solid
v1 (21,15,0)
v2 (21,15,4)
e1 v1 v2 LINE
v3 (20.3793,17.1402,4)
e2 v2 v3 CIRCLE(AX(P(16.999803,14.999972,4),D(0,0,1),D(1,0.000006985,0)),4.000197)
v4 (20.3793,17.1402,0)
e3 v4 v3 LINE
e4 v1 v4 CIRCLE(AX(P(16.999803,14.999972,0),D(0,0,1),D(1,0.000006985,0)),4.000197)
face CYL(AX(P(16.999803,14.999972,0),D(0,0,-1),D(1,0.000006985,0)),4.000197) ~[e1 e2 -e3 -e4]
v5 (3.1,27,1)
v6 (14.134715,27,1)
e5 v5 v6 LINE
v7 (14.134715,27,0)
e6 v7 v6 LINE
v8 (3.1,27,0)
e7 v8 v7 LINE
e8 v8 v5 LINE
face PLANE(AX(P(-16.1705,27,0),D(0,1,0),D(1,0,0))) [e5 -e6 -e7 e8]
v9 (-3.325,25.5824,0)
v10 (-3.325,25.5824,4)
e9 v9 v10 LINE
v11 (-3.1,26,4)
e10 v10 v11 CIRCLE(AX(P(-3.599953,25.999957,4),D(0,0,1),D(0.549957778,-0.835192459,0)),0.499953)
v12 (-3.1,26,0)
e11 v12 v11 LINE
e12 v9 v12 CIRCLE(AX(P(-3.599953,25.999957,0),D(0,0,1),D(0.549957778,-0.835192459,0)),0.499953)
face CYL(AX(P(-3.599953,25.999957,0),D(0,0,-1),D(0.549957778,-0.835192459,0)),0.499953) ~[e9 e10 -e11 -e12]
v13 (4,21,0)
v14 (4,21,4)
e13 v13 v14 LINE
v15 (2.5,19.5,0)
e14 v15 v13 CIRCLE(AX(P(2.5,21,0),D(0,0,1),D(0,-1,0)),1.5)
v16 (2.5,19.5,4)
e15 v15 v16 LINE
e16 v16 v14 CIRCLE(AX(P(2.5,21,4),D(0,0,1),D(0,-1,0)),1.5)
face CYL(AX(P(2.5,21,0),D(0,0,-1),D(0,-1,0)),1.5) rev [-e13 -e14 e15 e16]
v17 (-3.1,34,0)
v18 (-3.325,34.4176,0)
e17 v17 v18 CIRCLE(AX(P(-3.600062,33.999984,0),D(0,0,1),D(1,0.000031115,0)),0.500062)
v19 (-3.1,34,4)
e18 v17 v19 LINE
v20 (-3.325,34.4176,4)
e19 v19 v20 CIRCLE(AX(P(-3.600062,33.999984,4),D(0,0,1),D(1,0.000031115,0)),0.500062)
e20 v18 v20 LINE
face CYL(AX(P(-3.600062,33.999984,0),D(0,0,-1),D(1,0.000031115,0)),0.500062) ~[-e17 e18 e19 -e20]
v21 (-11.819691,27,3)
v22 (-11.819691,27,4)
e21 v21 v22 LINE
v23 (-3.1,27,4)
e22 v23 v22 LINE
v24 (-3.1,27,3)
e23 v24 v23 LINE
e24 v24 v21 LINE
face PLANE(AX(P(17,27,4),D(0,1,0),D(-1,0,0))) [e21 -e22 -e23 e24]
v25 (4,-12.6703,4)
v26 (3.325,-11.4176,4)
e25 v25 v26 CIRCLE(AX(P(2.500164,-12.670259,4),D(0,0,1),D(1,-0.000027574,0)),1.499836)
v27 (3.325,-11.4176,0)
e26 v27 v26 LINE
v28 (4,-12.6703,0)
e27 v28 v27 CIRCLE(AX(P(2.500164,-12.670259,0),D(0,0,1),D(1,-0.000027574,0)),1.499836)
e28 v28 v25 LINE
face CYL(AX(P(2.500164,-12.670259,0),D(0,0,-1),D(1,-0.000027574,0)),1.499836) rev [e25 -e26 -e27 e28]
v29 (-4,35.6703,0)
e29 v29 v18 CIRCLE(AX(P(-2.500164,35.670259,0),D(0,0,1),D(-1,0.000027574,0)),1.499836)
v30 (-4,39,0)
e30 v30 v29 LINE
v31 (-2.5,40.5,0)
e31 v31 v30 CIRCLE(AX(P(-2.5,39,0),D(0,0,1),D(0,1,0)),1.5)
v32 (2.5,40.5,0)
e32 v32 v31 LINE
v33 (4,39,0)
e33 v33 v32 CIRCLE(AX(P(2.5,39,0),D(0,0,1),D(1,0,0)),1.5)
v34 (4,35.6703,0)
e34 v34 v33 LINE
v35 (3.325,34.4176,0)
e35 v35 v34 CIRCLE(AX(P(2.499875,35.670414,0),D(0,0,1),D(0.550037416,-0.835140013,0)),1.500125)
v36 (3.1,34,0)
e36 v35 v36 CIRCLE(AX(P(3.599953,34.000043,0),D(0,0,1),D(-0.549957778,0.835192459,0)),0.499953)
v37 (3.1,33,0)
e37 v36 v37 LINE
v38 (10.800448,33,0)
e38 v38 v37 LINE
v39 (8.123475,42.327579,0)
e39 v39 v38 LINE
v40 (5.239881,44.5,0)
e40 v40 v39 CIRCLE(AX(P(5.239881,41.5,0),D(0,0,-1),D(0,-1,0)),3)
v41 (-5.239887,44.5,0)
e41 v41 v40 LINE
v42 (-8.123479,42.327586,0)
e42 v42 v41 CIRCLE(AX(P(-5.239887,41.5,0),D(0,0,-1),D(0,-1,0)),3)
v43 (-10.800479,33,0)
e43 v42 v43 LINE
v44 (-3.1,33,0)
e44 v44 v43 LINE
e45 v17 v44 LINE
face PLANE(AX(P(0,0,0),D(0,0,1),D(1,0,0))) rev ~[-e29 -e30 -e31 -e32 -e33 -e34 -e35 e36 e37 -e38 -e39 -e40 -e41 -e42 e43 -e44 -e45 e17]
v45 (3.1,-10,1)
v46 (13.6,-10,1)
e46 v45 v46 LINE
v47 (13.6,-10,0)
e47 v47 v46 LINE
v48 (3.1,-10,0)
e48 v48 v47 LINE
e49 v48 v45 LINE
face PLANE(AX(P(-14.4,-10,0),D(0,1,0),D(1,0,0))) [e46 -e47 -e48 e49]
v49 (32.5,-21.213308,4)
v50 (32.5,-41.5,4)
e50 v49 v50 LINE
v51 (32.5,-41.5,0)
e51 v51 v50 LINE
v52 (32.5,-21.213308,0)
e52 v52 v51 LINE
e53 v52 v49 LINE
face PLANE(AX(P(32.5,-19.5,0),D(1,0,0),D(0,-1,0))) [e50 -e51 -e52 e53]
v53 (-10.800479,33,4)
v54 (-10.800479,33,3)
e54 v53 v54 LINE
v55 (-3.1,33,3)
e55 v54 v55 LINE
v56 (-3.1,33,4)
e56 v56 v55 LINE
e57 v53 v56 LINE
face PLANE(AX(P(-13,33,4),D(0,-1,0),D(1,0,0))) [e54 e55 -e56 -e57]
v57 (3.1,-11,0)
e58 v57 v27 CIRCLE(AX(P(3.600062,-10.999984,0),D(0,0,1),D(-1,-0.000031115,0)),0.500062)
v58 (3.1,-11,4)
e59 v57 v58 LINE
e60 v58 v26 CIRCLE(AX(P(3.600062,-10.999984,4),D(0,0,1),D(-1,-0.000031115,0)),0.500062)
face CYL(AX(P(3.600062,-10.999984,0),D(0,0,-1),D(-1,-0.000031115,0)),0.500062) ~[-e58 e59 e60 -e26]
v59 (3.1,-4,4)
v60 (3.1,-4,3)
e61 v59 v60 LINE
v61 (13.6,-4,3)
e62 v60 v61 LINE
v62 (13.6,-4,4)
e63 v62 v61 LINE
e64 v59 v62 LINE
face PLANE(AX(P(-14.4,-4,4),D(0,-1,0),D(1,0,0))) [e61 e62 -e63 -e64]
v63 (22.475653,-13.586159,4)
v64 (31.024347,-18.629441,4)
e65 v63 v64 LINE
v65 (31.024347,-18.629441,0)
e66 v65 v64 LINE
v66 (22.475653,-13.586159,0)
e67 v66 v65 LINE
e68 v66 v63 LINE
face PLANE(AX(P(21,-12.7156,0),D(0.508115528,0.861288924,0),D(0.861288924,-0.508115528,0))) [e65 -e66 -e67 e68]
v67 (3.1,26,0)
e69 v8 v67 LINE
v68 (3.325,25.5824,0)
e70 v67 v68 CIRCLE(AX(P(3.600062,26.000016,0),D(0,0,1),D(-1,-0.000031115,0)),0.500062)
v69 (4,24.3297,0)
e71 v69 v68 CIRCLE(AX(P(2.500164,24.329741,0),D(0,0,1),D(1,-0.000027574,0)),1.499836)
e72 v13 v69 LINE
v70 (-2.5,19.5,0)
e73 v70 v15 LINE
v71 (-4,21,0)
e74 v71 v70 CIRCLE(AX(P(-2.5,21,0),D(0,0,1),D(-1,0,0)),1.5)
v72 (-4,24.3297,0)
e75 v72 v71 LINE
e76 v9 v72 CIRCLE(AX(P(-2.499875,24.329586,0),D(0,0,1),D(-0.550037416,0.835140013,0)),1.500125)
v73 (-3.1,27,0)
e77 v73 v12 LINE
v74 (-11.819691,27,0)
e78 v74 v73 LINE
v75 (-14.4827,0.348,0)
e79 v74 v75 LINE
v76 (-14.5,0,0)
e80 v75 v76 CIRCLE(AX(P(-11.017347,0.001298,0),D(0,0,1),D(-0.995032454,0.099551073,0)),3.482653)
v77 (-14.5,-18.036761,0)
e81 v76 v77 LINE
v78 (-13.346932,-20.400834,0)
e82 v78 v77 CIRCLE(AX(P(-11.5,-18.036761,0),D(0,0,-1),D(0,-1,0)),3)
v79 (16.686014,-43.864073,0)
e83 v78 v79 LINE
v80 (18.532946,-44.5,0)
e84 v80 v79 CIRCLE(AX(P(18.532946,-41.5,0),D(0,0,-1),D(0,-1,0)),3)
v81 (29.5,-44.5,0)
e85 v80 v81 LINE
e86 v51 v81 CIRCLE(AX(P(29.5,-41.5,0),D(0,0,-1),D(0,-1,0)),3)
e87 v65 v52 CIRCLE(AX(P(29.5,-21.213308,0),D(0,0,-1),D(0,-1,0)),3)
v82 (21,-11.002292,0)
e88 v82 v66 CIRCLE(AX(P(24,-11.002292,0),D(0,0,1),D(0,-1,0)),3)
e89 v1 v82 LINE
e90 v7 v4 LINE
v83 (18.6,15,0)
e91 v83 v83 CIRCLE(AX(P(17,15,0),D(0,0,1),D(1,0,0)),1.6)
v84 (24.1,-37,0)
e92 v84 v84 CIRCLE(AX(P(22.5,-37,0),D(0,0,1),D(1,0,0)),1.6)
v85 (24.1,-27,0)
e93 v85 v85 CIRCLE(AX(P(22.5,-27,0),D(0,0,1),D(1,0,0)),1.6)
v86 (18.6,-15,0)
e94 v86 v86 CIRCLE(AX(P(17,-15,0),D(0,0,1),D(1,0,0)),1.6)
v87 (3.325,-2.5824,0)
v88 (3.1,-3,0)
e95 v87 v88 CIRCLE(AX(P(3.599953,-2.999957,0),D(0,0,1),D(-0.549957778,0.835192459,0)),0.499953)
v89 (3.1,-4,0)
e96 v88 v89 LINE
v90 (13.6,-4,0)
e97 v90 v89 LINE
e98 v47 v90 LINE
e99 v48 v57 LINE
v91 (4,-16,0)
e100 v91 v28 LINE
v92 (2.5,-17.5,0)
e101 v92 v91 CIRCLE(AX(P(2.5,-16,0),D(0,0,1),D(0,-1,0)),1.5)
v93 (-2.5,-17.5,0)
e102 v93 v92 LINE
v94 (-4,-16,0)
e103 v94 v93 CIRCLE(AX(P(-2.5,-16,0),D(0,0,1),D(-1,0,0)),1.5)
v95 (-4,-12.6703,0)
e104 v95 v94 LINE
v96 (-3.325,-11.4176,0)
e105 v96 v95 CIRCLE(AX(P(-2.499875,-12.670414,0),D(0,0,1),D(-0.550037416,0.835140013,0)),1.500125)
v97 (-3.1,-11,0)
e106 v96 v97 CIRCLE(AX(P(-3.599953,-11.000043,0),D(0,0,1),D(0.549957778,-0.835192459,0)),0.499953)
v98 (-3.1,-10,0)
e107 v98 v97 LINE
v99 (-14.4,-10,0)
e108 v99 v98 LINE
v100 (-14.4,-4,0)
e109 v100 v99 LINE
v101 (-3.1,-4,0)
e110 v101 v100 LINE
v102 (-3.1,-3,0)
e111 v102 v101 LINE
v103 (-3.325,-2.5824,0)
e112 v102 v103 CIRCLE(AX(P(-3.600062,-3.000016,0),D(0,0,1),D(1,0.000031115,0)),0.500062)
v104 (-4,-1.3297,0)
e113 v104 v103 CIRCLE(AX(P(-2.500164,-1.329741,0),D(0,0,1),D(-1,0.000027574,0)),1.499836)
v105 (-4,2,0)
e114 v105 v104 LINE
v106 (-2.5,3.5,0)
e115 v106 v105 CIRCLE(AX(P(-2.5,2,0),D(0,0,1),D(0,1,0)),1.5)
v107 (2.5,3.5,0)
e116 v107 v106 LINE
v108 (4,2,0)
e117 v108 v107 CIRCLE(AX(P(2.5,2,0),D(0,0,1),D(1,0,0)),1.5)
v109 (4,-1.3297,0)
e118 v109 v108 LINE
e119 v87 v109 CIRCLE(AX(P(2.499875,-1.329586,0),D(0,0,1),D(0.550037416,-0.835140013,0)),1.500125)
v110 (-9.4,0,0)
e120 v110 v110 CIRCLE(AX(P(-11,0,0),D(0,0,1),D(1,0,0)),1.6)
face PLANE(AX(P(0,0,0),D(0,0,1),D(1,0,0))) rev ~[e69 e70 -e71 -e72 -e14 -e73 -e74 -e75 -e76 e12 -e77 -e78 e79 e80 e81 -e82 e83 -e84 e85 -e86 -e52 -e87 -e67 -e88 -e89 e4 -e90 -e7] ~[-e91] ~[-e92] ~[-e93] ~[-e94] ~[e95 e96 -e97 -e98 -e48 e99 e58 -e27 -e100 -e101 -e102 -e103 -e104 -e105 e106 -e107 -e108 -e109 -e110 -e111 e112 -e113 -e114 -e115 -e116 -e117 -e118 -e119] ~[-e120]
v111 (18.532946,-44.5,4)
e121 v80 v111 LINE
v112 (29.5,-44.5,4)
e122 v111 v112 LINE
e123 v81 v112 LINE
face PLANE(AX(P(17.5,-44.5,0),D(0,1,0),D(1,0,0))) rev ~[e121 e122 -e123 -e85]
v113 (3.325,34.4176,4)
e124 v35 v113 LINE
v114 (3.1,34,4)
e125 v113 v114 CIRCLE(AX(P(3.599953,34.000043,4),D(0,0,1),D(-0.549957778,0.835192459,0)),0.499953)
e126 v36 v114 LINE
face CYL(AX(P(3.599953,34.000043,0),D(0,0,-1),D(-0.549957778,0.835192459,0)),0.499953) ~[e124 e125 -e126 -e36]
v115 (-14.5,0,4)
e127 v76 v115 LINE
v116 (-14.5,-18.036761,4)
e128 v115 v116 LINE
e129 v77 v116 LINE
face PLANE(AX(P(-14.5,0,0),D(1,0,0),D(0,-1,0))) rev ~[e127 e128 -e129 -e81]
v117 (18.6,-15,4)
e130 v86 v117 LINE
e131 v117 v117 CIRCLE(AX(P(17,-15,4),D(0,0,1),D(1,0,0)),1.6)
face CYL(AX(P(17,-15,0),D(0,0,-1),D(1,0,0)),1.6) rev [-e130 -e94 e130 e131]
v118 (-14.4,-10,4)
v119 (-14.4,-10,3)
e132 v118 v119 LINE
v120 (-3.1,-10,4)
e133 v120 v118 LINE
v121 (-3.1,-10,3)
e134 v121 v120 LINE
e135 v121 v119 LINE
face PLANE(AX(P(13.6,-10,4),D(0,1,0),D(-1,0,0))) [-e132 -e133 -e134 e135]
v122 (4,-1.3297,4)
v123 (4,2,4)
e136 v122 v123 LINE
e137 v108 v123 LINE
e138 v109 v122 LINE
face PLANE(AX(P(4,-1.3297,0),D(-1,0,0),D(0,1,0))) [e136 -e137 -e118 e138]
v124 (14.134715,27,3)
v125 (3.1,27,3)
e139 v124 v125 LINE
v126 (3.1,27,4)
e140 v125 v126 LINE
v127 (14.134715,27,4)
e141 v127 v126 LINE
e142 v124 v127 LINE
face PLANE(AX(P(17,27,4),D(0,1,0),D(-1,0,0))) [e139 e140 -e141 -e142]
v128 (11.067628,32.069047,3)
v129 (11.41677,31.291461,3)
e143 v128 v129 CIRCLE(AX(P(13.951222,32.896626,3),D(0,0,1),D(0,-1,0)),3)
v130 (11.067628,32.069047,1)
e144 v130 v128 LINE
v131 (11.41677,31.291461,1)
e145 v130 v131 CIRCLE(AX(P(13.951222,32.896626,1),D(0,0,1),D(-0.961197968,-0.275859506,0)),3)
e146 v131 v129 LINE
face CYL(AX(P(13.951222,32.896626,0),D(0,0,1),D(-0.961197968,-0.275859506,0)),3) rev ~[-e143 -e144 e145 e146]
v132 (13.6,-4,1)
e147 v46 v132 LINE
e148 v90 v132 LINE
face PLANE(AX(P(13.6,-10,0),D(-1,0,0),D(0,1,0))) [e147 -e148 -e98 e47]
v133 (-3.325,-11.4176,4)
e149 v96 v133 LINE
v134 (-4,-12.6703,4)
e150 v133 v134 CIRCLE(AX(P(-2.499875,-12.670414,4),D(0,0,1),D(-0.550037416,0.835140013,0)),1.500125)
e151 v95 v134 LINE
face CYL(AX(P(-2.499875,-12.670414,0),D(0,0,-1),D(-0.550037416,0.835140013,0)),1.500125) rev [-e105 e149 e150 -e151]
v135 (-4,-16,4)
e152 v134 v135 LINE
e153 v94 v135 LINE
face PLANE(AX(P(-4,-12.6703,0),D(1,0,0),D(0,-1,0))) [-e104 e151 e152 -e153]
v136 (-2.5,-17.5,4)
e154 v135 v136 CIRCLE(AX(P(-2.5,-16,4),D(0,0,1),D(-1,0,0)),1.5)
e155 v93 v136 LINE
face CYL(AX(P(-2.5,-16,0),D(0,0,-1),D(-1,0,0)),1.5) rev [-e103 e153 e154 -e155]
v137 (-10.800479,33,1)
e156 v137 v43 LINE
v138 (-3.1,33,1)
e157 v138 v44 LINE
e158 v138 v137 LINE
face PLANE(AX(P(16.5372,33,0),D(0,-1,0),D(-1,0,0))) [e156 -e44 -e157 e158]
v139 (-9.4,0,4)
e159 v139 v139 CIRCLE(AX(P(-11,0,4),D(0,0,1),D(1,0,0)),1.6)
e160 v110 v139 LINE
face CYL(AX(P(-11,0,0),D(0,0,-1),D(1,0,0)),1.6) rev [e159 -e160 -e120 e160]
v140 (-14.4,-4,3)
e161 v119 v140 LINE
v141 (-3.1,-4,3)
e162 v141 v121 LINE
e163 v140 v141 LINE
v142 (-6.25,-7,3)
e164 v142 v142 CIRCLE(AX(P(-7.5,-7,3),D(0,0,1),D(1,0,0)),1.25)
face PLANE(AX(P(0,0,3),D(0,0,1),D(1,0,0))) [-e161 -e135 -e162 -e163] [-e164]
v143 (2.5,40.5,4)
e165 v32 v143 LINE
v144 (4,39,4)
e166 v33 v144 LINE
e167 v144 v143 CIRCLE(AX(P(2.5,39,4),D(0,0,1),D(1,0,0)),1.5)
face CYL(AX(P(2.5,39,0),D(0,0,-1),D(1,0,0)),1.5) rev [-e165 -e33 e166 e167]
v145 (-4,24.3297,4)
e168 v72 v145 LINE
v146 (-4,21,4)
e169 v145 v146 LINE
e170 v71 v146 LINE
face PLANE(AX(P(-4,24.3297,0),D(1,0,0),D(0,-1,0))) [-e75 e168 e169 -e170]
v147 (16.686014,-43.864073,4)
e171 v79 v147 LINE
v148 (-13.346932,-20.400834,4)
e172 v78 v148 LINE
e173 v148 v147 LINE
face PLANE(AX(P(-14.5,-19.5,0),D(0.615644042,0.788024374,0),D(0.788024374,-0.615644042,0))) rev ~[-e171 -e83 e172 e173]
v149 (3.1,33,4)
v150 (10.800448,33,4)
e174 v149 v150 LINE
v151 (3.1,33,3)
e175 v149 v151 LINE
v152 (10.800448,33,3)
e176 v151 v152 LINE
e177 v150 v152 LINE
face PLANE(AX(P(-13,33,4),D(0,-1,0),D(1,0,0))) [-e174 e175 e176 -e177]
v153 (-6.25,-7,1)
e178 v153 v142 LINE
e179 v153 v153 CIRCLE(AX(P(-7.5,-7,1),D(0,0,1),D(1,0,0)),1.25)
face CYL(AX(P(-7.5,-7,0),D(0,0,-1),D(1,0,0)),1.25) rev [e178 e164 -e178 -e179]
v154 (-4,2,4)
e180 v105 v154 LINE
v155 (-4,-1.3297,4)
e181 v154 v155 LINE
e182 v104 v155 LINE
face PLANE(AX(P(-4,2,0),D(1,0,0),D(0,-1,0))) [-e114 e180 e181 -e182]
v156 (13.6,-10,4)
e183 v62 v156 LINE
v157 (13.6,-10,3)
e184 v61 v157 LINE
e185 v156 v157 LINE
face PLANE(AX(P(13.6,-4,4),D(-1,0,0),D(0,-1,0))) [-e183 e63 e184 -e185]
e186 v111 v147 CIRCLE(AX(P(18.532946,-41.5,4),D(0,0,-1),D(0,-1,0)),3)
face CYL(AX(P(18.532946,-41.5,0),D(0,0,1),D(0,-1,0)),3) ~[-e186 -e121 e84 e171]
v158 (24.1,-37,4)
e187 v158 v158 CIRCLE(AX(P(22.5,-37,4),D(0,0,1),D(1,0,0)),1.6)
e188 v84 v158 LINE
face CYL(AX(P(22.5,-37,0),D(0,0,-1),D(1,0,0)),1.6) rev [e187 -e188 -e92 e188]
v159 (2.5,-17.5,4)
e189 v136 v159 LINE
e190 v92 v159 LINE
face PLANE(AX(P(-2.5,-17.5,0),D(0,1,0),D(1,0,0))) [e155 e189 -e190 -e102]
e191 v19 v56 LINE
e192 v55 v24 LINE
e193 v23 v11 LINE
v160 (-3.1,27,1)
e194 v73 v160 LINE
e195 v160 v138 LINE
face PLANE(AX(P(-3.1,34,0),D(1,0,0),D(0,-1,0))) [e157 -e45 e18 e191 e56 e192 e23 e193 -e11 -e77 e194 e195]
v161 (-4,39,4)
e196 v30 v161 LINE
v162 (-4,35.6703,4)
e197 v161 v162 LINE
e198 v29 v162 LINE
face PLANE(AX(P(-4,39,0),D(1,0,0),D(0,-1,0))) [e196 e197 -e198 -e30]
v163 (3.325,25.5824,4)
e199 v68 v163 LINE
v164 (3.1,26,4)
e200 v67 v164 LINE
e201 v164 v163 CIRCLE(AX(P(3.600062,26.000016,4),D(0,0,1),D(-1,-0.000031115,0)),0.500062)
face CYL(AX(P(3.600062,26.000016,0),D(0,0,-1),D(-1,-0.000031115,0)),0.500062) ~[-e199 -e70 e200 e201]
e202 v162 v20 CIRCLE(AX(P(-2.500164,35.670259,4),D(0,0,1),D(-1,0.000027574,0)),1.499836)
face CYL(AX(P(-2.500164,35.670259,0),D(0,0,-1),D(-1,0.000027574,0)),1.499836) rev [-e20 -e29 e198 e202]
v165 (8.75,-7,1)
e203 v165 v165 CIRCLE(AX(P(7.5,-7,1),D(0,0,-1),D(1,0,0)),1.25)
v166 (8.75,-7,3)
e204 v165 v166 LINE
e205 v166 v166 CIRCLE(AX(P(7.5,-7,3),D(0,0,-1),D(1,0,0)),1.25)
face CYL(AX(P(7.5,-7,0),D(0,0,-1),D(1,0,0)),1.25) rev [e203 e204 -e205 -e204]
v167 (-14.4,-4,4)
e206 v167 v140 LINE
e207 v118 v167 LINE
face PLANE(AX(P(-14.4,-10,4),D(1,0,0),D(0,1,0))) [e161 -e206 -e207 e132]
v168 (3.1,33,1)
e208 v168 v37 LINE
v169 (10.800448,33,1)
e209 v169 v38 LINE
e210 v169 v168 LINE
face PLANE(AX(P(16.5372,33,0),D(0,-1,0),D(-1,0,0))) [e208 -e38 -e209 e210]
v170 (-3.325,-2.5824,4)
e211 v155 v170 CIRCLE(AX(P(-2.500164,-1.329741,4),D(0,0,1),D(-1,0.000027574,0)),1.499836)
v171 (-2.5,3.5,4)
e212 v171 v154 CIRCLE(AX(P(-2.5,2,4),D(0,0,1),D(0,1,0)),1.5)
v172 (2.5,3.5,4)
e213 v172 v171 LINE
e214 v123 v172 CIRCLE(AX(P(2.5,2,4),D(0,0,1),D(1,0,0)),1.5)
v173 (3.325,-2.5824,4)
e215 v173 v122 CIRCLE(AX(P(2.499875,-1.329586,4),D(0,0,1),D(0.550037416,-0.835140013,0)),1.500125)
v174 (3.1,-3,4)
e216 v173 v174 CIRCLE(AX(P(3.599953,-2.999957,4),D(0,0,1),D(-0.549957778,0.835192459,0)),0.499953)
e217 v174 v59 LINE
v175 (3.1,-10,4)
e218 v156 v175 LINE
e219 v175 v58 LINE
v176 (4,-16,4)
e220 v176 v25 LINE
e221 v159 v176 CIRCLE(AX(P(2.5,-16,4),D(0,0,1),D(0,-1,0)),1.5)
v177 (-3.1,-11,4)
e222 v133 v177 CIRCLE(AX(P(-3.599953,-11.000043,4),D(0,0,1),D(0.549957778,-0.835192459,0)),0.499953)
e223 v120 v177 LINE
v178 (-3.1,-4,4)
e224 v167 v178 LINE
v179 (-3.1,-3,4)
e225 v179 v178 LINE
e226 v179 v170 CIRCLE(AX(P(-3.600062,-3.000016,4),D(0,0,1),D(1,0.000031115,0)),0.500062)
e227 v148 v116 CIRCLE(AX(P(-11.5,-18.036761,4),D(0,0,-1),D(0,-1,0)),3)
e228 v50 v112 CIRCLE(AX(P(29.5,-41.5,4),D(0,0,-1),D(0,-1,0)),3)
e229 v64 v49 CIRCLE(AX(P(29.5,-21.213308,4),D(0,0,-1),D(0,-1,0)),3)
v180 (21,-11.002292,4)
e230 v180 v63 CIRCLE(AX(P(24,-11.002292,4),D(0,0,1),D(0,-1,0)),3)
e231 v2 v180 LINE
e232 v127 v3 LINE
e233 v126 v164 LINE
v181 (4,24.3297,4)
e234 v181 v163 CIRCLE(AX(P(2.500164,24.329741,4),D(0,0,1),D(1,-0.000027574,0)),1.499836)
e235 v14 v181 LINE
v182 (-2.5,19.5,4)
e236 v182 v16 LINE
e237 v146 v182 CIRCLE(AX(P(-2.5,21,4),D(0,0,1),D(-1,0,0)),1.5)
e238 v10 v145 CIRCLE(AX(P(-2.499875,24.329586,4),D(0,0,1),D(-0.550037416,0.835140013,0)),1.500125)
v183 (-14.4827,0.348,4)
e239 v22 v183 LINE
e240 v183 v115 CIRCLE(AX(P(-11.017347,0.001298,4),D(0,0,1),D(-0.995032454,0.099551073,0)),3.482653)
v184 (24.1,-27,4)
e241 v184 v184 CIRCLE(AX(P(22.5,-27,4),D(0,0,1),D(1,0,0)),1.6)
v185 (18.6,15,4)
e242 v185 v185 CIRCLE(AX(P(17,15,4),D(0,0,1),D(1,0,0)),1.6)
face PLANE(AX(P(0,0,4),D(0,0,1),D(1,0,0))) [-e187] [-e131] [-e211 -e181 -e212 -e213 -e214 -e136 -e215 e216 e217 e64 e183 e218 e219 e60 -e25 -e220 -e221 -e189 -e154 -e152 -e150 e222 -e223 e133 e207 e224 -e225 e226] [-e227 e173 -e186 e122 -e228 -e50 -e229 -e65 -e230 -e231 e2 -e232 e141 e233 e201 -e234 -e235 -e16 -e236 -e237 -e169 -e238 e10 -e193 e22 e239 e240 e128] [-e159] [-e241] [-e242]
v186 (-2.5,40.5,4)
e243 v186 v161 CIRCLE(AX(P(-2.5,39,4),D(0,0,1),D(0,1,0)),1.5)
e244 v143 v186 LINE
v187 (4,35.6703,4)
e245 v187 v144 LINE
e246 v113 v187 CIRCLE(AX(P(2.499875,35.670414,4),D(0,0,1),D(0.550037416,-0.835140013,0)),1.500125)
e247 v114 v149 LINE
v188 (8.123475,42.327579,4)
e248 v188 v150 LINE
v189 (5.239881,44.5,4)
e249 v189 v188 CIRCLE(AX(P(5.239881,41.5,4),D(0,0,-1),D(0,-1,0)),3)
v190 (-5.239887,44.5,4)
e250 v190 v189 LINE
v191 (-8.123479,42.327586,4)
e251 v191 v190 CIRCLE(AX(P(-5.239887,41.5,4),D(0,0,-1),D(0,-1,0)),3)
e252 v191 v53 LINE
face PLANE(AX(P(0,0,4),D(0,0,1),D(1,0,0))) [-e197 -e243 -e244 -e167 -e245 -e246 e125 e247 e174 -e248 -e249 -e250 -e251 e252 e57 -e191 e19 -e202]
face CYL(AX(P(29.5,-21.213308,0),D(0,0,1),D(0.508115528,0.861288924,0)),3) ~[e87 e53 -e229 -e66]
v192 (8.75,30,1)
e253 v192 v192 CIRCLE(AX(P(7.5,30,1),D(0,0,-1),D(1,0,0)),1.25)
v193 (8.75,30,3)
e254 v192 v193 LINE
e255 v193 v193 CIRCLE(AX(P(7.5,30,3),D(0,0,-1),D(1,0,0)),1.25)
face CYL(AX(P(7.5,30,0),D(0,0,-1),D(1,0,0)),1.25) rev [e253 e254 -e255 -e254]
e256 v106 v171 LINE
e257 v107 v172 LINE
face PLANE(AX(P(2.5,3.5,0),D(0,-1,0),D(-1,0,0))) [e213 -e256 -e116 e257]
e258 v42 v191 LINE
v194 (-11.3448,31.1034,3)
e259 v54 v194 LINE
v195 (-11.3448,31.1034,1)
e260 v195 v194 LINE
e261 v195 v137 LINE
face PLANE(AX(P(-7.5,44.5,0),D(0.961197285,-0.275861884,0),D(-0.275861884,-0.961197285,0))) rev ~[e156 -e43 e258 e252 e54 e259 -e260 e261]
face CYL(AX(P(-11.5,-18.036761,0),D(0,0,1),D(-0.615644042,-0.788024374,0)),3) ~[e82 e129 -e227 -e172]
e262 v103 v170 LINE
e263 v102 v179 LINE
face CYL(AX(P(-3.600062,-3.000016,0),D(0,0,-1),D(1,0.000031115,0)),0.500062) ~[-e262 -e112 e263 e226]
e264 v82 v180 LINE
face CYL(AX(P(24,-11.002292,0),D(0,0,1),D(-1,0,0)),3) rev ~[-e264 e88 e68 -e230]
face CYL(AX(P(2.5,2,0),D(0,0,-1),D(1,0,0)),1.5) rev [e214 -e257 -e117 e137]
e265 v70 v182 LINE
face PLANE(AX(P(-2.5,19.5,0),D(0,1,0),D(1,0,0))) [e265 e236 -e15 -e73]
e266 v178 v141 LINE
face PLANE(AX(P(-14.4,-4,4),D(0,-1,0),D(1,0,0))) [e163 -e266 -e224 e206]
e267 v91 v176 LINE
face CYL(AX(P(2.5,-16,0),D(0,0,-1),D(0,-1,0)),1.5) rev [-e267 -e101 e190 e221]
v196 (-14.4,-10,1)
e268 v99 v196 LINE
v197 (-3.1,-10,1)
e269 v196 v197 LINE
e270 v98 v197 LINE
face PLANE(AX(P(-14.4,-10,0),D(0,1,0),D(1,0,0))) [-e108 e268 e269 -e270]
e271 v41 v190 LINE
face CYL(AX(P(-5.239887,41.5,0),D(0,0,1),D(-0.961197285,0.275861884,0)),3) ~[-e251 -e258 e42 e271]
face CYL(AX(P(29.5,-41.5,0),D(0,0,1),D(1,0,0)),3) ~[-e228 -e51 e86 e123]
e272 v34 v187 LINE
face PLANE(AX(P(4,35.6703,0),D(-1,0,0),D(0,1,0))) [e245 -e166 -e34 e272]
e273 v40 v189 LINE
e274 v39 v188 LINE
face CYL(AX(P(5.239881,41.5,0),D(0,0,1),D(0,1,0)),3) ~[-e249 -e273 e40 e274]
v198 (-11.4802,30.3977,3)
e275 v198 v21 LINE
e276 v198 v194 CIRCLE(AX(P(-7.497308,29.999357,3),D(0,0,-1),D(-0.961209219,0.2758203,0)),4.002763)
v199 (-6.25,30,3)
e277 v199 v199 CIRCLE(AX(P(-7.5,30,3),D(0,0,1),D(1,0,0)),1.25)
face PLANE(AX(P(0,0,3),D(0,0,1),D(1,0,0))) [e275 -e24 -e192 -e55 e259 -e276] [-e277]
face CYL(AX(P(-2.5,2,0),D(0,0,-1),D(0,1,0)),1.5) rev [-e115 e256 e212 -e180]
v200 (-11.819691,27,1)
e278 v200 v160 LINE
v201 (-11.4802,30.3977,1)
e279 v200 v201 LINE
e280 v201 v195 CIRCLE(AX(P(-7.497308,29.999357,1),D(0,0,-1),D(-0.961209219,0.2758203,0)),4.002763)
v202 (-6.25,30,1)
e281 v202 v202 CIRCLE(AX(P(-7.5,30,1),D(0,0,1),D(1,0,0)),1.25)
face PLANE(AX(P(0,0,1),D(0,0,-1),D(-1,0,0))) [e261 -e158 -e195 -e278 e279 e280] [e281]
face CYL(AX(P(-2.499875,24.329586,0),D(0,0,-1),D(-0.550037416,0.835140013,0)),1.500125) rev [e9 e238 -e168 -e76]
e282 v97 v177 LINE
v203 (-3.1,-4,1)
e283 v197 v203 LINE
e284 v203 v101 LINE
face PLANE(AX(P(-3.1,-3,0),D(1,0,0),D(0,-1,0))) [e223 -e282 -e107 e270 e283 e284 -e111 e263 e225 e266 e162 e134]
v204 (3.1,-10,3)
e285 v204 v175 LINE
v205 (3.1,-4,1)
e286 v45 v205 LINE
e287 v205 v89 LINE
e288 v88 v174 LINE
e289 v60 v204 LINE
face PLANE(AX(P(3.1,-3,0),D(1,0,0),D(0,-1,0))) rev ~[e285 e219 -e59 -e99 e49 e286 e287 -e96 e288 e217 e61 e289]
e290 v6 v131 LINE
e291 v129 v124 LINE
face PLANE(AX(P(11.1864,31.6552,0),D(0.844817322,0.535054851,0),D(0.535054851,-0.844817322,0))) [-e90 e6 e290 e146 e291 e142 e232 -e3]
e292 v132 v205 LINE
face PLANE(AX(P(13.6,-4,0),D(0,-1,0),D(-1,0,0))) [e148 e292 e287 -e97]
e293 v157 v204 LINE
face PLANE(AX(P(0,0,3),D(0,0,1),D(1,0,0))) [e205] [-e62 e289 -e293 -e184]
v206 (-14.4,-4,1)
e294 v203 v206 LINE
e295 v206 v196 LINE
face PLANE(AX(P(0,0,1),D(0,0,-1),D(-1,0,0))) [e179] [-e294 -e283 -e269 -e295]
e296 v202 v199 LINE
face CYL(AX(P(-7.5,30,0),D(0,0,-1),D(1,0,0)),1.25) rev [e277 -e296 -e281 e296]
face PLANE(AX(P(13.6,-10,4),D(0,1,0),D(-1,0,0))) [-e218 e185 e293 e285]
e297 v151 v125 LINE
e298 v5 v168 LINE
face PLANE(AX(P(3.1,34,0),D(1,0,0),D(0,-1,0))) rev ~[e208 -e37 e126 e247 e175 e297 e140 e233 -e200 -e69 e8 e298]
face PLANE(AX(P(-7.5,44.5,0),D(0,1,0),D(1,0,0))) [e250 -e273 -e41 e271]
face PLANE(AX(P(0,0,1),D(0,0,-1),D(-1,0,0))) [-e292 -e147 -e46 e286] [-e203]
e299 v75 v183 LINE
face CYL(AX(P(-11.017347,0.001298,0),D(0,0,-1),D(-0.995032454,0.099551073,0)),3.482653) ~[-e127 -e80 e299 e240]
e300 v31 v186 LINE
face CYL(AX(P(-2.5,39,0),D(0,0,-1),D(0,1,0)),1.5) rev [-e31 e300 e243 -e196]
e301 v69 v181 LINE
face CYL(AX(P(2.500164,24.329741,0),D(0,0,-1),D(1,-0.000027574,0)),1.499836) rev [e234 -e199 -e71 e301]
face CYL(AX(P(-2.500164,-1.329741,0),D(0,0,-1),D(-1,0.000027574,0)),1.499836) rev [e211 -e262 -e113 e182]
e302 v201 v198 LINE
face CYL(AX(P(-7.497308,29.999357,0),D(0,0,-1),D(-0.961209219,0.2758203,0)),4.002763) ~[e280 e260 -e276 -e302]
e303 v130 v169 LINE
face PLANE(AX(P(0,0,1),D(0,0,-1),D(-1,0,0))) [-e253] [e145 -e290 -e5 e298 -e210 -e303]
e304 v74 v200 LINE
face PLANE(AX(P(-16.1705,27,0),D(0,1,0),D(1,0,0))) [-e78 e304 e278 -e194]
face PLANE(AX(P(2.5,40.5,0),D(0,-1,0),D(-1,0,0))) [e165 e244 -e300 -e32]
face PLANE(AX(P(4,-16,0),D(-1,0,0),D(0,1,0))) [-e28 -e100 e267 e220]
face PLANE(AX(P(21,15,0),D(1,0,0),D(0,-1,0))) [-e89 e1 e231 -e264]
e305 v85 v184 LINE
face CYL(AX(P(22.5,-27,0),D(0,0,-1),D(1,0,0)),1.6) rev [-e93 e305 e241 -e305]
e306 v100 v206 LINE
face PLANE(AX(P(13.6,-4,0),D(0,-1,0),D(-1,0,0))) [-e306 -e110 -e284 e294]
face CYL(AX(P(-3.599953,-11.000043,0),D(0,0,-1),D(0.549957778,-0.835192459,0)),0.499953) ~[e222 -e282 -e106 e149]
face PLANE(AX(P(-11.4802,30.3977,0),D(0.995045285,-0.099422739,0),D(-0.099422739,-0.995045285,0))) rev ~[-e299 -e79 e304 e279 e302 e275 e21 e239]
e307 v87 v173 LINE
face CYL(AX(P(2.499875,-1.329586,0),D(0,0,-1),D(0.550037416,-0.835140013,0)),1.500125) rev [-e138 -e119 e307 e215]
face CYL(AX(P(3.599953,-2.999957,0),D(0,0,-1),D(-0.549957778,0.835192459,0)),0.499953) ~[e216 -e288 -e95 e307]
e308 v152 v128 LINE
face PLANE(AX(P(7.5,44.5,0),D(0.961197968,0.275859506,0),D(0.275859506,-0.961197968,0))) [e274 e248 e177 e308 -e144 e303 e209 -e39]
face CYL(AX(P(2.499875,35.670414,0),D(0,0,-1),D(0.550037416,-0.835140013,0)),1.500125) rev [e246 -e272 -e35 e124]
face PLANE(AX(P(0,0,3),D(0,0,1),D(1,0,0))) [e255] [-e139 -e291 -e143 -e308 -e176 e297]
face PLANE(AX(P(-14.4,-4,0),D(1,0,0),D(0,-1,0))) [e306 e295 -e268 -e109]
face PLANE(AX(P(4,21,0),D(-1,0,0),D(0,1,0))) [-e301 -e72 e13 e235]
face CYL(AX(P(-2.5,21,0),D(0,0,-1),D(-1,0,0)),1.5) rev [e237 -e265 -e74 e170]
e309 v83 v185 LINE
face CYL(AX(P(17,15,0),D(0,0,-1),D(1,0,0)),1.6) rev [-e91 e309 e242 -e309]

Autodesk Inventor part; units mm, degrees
ref_plane "YZ Plane" through (0, 0, 0) normal (1, 0, 0) x (0, 1, 0)
ref_plane "XZ Plane" through (0, 0, 0) normal (0, 1, 0) x (-1, 0, 0)
ref_plane "XY Plane" through (0, 0, 0) normal (0, 0, 1) x (1, 0, 0)
sketch "スケッチ1" plane through (0, 0, 0) normal (0, 0, 1) x (1, 0, 0)
  line L0 (-7.5, 51.6667) -> (7.5, 51.6667) construction
  line L1 (7.5, 51.6667) -> (7.5, -56.5972) construction
  line L2 (7.5, -56.5972) -> (-7.5, -56.5972) construction
  line L3 (-7.5, -56.5972) -> (-7.5, 51.6667) construction
  circle A0 centre (-11, 0) radius 3.5 construction
  circle A1 centre (17, 15) radius 9.5 construction
  circle A2 centre (17, -15) radius 9.5 construction
  circle A3 centre (-11, 0) radius 1.6
  line L4 (17, 15) -> (17, -15) construction
  line L5 (17, -15) -> (-11, 0) construction
  line L6 (-11, 0) -> (17, 15) construction
  circle A4 centre (17, 15) radius 1.6
  circle A5 centre (17, -15) radius 1.6
  line L7 (-3.1, 34) -> (-3.1, 26)
  arc A6 (3.1, 26) -> (3.325, 25.5824) centre (3.6, 26) ccw
  line L8 (3.1, 34) -> (3.1, 26)
  arc A7 (4, 24.3297) -> (3.325, 25.5824) centre (2.5, 24.3297) ccw
  line L9 (4, 21) -> (4, 24.3297)
  line L10 (-3, 20.5) -> (-3, 39.5) construction
  line L11 (3, 39.5) -> (3, 20.5) construction
  arc A8 (-3.325, 25.5824) -> (-4, 24.3297) centre (-2.5, 24.3297) ccw
  arc A9 (-3.325, 25.5824) -> (-3.1, 26) centre (-3.6, 26) ccw
  arc A10 (-4, 21) -> (-2.5, 19.5) centre (-2.5, 21) ccw
  line L12 (-4, 24.3297) -> (-4, 21)
  arc A11 (4, 39) -> (2.5, 40.5) centre (2.5, 39) ccw
  line L13 (-2.5, 19.5) -> (2.5, 19.5)
  line L14 (3, 20.5) -> (-3, 20.5) construction
  arc A12 (2.5, 19.5) -> (4, 21) centre (2.5, 21) ccw
  arc A13 (3.325, 34.4176) -> (3.1, 34) centre (3.6, 34) ccw
  arc A14 (3.325, 34.4176) -> (4, 35.6703) centre (2.5, 35.6703) ccw
  arc A15 (-3.1, 34) -> (-3.325, 34.4176) centre (-3.6, 34) ccw
  arc A16 (-4, 35.6703) -> (-3.325, 34.4176) centre (-2.5, 35.6703) ccw
  line L15 (4, 35.6703) -> (4, 39)
  line L16 (-4, 39) -> (-4, 35.6703)
  line L17 (-3, 39.5) -> (3, 39.5) construction
  line L18 (2.5, 40.5) -> (-2.5, 40.5)
  arc A17 (-2.5, 40.5) -> (-4, 39) centre (-2.5, 39) ccw
  line L19 (-3.1, -3) -> (-3.1, -11)
  arc A18 (3.1, -11) -> (3.325, -11.4176) centre (3.6, -11) ccw
  line L20 (3.1, -3) -> (3.1, -11)
  arc A19 (4, -12.6703) -> (3.325, -11.4176) centre (2.5, -12.6703) ccw
  line L21 (4, -16) -> (4, -12.6703)
  line L22 (-3, -16.5) -> (-3, 2.5) construction
  line L23 (3, 2.5) -> (3, -16.5) construction
  arc A20 (-3.325, -11.4176) -> (-4, -12.6703) centre (-2.5, -12.6703) ccw
  arc A21 (-3.325, -11.4176) -> (-3.1, -11) centre (-3.6, -11) ccw
  arc A22 (-4, -16) -> (-2.5, -17.5) centre (-2.5, -16) ccw
  line L24 (-4, -12.6703) -> (-4, -16)
  arc A23 (4, 2) -> (2.5, 3.5) centre (2.5, 2) ccw
  line L25 (-2.5, -17.5) -> (2.5, -17.5)
  line L26 (3, -16.5) -> (-3, -16.5) construction
  arc A24 (2.5, -17.5) -> (4, -16) centre (2.5, -16) ccw
  arc A25 (3.325, -2.5824) -> (3.1, -3) centre (3.6, -3) ccw
  arc A26 (3.325, -2.5824) -> (4, -1.3297) centre (2.5, -1.3297) ccw
  arc A27 (-3.1, -3) -> (-3.325, -2.5824) centre (-3.6, -3) ccw
  arc A28 (-4, -1.3297) -> (-3.325, -2.5824) centre (-2.5, -1.3297) ccw
  line L27 (4, -1.3297) -> (4, 2)
  line L28 (-4, 2) -> (-4, -1.3297)
  line L29 (-3, 2.5) -> (3, 2.5) construction
  line L30 (2.5, 3.5) -> (-2.5, 3.5)
  arc A29 (-2.5, 3.5) -> (-4, 2) centre (-2.5, 2) ccw
  circle A30 centre (-7.5, 30) radius 1.25
  circle A31 centre (7.5, 30) radius 1.25
  circle A32 centre (-7.5, -7) radius 1.25
  circle A33 centre (7.5, -7) radius 1.25
  arc A34 (-14.4827, 0.348) -> (-14.5, 0) centre (-11, 0) ccw
  line L31 (-7.5, 44.5) -> (7.5, 44.5)
  arc A35 (21, 15) -> (20.3793, 17.1402) centre (17, 15) ccw
  circle A36 centre (22.5, -27) radius 1.6
  circle A37 centre (22.5, -37) radius 1.6
  line L32 (-14.5, -19.5) -> (33.1902, -19.5) construction
  line L33 (33.1902, -19.5) -> (33.1902, -44.5) construction
  arc A38 (-11.3448, 31.1034) -> (-11.4802, 30.3977) centre (-7.5, 30) ccw
  line L34 (-7.5, 44.5) -> (-11.3448, 31.1034)
  line L35 (-11.4802, 30.3977) -> (-14.4827, 0.348)
  line L36 (7.5, 44.5) -> (11.1864, 31.6552)
  line L37 (11.1864, 31.6552) -> (20.3793, 17.1402)
  arc A39 (11.4653, 29.4746) -> (11.0874, 31.7692) centre (7.5, 30) ccw construction
  line L38 (-14.5, 0) -> (-14.5, -19.5)
  line L39 (-14.5, -19.5) -> (17.5, -44.5)
  line L40 (17.5, -44.5) -> (32.5, -44.5)
  line L41 (21, 15) -> (21, -12.7156)
  line L42 (21, -12.7156) -> (32.5, -19.5)
  line L43 (32.5, -19.5) -> (32.5, -44.5)
  circle A40 centre (17, -15) radius 4 construction
  point P0 (0, 0)
  point P1 (0, 0)
  point P2 (0, 30)
  point P3 (0, -7)
  dimension "d0" = 15
  dimension "d1" = 7.5
  dimension "d2" = 7
  dimension "d3" = 19
  dimension "d4" = 19
  dimension "d5" = 3.2
  dimension "d10" = 30
  dimension "d11" = 3.2
  dimension "d12" = 3.2
  dimension "d13" = 6
  dimension "d14" = 19
  dimension "d15" = 3
  dimension "d16" = 9.5
  dimension "d17" = 1
  dimension "d18" = 8
  dimension "d19" = 4
  dimension "d20" = 0.1
  dimension "d21" = 0.1
  dimension "d22" = 1
  dimension "d23" = 1
  dimension "d24" = 1
  dimension "d25" = 1.5
  dimension "d26" = 1
  dimension "d27" = 1.5
  dimension "d28" = 0.5
  dimension "d29" = 1
  dimension "d30" = 1.5
  dimension "d31" = 0.5
  dimension "d32" = 1.5
  dimension "d33" = 0.5
  dimension "d34" = 0.5
  dimension "d35" = 1.5
  dimension "d36" = 6
  dimension "d37" = 19
  dimension "d38" = 3
  dimension "d39" = 9.5
  dimension "d40" = 1
  dimension "d41" = 8
  dimension "d42" = 4
  dimension "d43" = 0.1
  dimension "d44" = 0.1
  dimension "d45" = 1
  dimension "d46" = 1
  dimension "d47" = 1
  dimension "d48" = 1.5
  dimension "d49" = 1
  dimension "d50" = 1.5
  dimension "d51" = 0.5
  dimension "d52" = 1
  dimension "d53" = 1.5
  dimension "d54" = 0.5
  dimension "d55" = 1.5
  dimension "d56" = 0.5
  dimension "d57" = 0.5
  dimension "d58" = 1.5
  dimension "d59" = 30
  dimension "d60" = 7
  dimension "d61" = 2.5
  dimension "d62" = 2.5
  dimension "d63" = 2.5
  dimension "d64" = 2.5
  dimension "d65" = 15
  dimension "d66" = 7.5
  dimension "d68" = 15
extrude "押し出し1" add sketch "スケッチ1" along normal blind 4
sketch "スケッチ2" plane through (0, 0, 4) normal (0, 0, 1) x (1, 0, 0)
  line L0 (-13, 33) -> (17, 33)
  line L1 (17, 33) -> (17, 27)
  line L2 (17, 27) -> (-13, 27)
  line L3 (-13, 27) -> (-13, 33)
  line L4 (-14.4, -4) -> (13.6, -4)
  line L5 (13.6, -4) -> (13.6, -10)
  line L6 (13.6, -10) -> (-14.4, -10)
  line L7 (-14.4, -10) -> (-14.4, -4)
  circle A0 centre (-7.5, 30) radius 1.25 projected
  circle A1 centre (-7.5, -7) radius 1.25 projected
  point P0 (0, 0)
  dimension "d97" = 6
  dimension "d98" = 3
  dimension "d99" = 3
  dimension "d100" = 6
  dimension "d103" = 28
  dimension "d104" = 6.9
  dimension "d105" = 30
  dimension "d106" = 5.5
extrude "押し出し2" cut sketch "スケッチ2" against normal blind 1
fillet "フィレット2" radius 3 8 edges at (-7.5, 44.5, 2) (7.5, 44.5, 2) (11.1864, 31.6552, 1.5) (-14.5, -19.5, 2) (17.5, -44.5, 2) (32.5, -44.5, 2) (21, -12.7156, 2) (32.5, -19.5, 2)
sketch "スケッチ4" plane through (0, 0, 0) normal (0, 0, -1) x (-1, 0, 0)
  line L0 (-16.5372, 33) -> (16.1705, 33)
  line L1 (16.1705, 33) -> (16.1705, 27)
  line L2 (16.1705, 27) -> (-16.5372, 27)
  line L3 (-16.5372, 27) -> (-16.5372, 33)
  line L4 (-13.6, -4) -> (14.4, -4)
  line L5 (14.4, -4) -> (14.4, -10)
  line L6 (14.4, -10) -> (-13.6, -10)
  line L7 (-13.6, -10) -> (-13.6, -4)
  circle A0 centre (7.5, 30) radius 1.25 projected
  circle A1 centre (7.5, -7) radius 1.25 projected
  point P0 (0, 0)
  dimension "d127" = 3
  dimension "d128" = 6
  dimension "d129" = 3
  dimension "d130" = 6
  dimension "d131" = 28
  dimension "d132" = 6.9
extrude "押し出し4" cut sketch "スケッチ4" against normal blind 1
equation "\"d1\" = 0.5 * d0"
equation "\"d16\" = 0.5 * d14"
equation "\"d39\" = 0.5 * d37"
properties part number "前後機構_上側板" material "アルミニウム 6061"
